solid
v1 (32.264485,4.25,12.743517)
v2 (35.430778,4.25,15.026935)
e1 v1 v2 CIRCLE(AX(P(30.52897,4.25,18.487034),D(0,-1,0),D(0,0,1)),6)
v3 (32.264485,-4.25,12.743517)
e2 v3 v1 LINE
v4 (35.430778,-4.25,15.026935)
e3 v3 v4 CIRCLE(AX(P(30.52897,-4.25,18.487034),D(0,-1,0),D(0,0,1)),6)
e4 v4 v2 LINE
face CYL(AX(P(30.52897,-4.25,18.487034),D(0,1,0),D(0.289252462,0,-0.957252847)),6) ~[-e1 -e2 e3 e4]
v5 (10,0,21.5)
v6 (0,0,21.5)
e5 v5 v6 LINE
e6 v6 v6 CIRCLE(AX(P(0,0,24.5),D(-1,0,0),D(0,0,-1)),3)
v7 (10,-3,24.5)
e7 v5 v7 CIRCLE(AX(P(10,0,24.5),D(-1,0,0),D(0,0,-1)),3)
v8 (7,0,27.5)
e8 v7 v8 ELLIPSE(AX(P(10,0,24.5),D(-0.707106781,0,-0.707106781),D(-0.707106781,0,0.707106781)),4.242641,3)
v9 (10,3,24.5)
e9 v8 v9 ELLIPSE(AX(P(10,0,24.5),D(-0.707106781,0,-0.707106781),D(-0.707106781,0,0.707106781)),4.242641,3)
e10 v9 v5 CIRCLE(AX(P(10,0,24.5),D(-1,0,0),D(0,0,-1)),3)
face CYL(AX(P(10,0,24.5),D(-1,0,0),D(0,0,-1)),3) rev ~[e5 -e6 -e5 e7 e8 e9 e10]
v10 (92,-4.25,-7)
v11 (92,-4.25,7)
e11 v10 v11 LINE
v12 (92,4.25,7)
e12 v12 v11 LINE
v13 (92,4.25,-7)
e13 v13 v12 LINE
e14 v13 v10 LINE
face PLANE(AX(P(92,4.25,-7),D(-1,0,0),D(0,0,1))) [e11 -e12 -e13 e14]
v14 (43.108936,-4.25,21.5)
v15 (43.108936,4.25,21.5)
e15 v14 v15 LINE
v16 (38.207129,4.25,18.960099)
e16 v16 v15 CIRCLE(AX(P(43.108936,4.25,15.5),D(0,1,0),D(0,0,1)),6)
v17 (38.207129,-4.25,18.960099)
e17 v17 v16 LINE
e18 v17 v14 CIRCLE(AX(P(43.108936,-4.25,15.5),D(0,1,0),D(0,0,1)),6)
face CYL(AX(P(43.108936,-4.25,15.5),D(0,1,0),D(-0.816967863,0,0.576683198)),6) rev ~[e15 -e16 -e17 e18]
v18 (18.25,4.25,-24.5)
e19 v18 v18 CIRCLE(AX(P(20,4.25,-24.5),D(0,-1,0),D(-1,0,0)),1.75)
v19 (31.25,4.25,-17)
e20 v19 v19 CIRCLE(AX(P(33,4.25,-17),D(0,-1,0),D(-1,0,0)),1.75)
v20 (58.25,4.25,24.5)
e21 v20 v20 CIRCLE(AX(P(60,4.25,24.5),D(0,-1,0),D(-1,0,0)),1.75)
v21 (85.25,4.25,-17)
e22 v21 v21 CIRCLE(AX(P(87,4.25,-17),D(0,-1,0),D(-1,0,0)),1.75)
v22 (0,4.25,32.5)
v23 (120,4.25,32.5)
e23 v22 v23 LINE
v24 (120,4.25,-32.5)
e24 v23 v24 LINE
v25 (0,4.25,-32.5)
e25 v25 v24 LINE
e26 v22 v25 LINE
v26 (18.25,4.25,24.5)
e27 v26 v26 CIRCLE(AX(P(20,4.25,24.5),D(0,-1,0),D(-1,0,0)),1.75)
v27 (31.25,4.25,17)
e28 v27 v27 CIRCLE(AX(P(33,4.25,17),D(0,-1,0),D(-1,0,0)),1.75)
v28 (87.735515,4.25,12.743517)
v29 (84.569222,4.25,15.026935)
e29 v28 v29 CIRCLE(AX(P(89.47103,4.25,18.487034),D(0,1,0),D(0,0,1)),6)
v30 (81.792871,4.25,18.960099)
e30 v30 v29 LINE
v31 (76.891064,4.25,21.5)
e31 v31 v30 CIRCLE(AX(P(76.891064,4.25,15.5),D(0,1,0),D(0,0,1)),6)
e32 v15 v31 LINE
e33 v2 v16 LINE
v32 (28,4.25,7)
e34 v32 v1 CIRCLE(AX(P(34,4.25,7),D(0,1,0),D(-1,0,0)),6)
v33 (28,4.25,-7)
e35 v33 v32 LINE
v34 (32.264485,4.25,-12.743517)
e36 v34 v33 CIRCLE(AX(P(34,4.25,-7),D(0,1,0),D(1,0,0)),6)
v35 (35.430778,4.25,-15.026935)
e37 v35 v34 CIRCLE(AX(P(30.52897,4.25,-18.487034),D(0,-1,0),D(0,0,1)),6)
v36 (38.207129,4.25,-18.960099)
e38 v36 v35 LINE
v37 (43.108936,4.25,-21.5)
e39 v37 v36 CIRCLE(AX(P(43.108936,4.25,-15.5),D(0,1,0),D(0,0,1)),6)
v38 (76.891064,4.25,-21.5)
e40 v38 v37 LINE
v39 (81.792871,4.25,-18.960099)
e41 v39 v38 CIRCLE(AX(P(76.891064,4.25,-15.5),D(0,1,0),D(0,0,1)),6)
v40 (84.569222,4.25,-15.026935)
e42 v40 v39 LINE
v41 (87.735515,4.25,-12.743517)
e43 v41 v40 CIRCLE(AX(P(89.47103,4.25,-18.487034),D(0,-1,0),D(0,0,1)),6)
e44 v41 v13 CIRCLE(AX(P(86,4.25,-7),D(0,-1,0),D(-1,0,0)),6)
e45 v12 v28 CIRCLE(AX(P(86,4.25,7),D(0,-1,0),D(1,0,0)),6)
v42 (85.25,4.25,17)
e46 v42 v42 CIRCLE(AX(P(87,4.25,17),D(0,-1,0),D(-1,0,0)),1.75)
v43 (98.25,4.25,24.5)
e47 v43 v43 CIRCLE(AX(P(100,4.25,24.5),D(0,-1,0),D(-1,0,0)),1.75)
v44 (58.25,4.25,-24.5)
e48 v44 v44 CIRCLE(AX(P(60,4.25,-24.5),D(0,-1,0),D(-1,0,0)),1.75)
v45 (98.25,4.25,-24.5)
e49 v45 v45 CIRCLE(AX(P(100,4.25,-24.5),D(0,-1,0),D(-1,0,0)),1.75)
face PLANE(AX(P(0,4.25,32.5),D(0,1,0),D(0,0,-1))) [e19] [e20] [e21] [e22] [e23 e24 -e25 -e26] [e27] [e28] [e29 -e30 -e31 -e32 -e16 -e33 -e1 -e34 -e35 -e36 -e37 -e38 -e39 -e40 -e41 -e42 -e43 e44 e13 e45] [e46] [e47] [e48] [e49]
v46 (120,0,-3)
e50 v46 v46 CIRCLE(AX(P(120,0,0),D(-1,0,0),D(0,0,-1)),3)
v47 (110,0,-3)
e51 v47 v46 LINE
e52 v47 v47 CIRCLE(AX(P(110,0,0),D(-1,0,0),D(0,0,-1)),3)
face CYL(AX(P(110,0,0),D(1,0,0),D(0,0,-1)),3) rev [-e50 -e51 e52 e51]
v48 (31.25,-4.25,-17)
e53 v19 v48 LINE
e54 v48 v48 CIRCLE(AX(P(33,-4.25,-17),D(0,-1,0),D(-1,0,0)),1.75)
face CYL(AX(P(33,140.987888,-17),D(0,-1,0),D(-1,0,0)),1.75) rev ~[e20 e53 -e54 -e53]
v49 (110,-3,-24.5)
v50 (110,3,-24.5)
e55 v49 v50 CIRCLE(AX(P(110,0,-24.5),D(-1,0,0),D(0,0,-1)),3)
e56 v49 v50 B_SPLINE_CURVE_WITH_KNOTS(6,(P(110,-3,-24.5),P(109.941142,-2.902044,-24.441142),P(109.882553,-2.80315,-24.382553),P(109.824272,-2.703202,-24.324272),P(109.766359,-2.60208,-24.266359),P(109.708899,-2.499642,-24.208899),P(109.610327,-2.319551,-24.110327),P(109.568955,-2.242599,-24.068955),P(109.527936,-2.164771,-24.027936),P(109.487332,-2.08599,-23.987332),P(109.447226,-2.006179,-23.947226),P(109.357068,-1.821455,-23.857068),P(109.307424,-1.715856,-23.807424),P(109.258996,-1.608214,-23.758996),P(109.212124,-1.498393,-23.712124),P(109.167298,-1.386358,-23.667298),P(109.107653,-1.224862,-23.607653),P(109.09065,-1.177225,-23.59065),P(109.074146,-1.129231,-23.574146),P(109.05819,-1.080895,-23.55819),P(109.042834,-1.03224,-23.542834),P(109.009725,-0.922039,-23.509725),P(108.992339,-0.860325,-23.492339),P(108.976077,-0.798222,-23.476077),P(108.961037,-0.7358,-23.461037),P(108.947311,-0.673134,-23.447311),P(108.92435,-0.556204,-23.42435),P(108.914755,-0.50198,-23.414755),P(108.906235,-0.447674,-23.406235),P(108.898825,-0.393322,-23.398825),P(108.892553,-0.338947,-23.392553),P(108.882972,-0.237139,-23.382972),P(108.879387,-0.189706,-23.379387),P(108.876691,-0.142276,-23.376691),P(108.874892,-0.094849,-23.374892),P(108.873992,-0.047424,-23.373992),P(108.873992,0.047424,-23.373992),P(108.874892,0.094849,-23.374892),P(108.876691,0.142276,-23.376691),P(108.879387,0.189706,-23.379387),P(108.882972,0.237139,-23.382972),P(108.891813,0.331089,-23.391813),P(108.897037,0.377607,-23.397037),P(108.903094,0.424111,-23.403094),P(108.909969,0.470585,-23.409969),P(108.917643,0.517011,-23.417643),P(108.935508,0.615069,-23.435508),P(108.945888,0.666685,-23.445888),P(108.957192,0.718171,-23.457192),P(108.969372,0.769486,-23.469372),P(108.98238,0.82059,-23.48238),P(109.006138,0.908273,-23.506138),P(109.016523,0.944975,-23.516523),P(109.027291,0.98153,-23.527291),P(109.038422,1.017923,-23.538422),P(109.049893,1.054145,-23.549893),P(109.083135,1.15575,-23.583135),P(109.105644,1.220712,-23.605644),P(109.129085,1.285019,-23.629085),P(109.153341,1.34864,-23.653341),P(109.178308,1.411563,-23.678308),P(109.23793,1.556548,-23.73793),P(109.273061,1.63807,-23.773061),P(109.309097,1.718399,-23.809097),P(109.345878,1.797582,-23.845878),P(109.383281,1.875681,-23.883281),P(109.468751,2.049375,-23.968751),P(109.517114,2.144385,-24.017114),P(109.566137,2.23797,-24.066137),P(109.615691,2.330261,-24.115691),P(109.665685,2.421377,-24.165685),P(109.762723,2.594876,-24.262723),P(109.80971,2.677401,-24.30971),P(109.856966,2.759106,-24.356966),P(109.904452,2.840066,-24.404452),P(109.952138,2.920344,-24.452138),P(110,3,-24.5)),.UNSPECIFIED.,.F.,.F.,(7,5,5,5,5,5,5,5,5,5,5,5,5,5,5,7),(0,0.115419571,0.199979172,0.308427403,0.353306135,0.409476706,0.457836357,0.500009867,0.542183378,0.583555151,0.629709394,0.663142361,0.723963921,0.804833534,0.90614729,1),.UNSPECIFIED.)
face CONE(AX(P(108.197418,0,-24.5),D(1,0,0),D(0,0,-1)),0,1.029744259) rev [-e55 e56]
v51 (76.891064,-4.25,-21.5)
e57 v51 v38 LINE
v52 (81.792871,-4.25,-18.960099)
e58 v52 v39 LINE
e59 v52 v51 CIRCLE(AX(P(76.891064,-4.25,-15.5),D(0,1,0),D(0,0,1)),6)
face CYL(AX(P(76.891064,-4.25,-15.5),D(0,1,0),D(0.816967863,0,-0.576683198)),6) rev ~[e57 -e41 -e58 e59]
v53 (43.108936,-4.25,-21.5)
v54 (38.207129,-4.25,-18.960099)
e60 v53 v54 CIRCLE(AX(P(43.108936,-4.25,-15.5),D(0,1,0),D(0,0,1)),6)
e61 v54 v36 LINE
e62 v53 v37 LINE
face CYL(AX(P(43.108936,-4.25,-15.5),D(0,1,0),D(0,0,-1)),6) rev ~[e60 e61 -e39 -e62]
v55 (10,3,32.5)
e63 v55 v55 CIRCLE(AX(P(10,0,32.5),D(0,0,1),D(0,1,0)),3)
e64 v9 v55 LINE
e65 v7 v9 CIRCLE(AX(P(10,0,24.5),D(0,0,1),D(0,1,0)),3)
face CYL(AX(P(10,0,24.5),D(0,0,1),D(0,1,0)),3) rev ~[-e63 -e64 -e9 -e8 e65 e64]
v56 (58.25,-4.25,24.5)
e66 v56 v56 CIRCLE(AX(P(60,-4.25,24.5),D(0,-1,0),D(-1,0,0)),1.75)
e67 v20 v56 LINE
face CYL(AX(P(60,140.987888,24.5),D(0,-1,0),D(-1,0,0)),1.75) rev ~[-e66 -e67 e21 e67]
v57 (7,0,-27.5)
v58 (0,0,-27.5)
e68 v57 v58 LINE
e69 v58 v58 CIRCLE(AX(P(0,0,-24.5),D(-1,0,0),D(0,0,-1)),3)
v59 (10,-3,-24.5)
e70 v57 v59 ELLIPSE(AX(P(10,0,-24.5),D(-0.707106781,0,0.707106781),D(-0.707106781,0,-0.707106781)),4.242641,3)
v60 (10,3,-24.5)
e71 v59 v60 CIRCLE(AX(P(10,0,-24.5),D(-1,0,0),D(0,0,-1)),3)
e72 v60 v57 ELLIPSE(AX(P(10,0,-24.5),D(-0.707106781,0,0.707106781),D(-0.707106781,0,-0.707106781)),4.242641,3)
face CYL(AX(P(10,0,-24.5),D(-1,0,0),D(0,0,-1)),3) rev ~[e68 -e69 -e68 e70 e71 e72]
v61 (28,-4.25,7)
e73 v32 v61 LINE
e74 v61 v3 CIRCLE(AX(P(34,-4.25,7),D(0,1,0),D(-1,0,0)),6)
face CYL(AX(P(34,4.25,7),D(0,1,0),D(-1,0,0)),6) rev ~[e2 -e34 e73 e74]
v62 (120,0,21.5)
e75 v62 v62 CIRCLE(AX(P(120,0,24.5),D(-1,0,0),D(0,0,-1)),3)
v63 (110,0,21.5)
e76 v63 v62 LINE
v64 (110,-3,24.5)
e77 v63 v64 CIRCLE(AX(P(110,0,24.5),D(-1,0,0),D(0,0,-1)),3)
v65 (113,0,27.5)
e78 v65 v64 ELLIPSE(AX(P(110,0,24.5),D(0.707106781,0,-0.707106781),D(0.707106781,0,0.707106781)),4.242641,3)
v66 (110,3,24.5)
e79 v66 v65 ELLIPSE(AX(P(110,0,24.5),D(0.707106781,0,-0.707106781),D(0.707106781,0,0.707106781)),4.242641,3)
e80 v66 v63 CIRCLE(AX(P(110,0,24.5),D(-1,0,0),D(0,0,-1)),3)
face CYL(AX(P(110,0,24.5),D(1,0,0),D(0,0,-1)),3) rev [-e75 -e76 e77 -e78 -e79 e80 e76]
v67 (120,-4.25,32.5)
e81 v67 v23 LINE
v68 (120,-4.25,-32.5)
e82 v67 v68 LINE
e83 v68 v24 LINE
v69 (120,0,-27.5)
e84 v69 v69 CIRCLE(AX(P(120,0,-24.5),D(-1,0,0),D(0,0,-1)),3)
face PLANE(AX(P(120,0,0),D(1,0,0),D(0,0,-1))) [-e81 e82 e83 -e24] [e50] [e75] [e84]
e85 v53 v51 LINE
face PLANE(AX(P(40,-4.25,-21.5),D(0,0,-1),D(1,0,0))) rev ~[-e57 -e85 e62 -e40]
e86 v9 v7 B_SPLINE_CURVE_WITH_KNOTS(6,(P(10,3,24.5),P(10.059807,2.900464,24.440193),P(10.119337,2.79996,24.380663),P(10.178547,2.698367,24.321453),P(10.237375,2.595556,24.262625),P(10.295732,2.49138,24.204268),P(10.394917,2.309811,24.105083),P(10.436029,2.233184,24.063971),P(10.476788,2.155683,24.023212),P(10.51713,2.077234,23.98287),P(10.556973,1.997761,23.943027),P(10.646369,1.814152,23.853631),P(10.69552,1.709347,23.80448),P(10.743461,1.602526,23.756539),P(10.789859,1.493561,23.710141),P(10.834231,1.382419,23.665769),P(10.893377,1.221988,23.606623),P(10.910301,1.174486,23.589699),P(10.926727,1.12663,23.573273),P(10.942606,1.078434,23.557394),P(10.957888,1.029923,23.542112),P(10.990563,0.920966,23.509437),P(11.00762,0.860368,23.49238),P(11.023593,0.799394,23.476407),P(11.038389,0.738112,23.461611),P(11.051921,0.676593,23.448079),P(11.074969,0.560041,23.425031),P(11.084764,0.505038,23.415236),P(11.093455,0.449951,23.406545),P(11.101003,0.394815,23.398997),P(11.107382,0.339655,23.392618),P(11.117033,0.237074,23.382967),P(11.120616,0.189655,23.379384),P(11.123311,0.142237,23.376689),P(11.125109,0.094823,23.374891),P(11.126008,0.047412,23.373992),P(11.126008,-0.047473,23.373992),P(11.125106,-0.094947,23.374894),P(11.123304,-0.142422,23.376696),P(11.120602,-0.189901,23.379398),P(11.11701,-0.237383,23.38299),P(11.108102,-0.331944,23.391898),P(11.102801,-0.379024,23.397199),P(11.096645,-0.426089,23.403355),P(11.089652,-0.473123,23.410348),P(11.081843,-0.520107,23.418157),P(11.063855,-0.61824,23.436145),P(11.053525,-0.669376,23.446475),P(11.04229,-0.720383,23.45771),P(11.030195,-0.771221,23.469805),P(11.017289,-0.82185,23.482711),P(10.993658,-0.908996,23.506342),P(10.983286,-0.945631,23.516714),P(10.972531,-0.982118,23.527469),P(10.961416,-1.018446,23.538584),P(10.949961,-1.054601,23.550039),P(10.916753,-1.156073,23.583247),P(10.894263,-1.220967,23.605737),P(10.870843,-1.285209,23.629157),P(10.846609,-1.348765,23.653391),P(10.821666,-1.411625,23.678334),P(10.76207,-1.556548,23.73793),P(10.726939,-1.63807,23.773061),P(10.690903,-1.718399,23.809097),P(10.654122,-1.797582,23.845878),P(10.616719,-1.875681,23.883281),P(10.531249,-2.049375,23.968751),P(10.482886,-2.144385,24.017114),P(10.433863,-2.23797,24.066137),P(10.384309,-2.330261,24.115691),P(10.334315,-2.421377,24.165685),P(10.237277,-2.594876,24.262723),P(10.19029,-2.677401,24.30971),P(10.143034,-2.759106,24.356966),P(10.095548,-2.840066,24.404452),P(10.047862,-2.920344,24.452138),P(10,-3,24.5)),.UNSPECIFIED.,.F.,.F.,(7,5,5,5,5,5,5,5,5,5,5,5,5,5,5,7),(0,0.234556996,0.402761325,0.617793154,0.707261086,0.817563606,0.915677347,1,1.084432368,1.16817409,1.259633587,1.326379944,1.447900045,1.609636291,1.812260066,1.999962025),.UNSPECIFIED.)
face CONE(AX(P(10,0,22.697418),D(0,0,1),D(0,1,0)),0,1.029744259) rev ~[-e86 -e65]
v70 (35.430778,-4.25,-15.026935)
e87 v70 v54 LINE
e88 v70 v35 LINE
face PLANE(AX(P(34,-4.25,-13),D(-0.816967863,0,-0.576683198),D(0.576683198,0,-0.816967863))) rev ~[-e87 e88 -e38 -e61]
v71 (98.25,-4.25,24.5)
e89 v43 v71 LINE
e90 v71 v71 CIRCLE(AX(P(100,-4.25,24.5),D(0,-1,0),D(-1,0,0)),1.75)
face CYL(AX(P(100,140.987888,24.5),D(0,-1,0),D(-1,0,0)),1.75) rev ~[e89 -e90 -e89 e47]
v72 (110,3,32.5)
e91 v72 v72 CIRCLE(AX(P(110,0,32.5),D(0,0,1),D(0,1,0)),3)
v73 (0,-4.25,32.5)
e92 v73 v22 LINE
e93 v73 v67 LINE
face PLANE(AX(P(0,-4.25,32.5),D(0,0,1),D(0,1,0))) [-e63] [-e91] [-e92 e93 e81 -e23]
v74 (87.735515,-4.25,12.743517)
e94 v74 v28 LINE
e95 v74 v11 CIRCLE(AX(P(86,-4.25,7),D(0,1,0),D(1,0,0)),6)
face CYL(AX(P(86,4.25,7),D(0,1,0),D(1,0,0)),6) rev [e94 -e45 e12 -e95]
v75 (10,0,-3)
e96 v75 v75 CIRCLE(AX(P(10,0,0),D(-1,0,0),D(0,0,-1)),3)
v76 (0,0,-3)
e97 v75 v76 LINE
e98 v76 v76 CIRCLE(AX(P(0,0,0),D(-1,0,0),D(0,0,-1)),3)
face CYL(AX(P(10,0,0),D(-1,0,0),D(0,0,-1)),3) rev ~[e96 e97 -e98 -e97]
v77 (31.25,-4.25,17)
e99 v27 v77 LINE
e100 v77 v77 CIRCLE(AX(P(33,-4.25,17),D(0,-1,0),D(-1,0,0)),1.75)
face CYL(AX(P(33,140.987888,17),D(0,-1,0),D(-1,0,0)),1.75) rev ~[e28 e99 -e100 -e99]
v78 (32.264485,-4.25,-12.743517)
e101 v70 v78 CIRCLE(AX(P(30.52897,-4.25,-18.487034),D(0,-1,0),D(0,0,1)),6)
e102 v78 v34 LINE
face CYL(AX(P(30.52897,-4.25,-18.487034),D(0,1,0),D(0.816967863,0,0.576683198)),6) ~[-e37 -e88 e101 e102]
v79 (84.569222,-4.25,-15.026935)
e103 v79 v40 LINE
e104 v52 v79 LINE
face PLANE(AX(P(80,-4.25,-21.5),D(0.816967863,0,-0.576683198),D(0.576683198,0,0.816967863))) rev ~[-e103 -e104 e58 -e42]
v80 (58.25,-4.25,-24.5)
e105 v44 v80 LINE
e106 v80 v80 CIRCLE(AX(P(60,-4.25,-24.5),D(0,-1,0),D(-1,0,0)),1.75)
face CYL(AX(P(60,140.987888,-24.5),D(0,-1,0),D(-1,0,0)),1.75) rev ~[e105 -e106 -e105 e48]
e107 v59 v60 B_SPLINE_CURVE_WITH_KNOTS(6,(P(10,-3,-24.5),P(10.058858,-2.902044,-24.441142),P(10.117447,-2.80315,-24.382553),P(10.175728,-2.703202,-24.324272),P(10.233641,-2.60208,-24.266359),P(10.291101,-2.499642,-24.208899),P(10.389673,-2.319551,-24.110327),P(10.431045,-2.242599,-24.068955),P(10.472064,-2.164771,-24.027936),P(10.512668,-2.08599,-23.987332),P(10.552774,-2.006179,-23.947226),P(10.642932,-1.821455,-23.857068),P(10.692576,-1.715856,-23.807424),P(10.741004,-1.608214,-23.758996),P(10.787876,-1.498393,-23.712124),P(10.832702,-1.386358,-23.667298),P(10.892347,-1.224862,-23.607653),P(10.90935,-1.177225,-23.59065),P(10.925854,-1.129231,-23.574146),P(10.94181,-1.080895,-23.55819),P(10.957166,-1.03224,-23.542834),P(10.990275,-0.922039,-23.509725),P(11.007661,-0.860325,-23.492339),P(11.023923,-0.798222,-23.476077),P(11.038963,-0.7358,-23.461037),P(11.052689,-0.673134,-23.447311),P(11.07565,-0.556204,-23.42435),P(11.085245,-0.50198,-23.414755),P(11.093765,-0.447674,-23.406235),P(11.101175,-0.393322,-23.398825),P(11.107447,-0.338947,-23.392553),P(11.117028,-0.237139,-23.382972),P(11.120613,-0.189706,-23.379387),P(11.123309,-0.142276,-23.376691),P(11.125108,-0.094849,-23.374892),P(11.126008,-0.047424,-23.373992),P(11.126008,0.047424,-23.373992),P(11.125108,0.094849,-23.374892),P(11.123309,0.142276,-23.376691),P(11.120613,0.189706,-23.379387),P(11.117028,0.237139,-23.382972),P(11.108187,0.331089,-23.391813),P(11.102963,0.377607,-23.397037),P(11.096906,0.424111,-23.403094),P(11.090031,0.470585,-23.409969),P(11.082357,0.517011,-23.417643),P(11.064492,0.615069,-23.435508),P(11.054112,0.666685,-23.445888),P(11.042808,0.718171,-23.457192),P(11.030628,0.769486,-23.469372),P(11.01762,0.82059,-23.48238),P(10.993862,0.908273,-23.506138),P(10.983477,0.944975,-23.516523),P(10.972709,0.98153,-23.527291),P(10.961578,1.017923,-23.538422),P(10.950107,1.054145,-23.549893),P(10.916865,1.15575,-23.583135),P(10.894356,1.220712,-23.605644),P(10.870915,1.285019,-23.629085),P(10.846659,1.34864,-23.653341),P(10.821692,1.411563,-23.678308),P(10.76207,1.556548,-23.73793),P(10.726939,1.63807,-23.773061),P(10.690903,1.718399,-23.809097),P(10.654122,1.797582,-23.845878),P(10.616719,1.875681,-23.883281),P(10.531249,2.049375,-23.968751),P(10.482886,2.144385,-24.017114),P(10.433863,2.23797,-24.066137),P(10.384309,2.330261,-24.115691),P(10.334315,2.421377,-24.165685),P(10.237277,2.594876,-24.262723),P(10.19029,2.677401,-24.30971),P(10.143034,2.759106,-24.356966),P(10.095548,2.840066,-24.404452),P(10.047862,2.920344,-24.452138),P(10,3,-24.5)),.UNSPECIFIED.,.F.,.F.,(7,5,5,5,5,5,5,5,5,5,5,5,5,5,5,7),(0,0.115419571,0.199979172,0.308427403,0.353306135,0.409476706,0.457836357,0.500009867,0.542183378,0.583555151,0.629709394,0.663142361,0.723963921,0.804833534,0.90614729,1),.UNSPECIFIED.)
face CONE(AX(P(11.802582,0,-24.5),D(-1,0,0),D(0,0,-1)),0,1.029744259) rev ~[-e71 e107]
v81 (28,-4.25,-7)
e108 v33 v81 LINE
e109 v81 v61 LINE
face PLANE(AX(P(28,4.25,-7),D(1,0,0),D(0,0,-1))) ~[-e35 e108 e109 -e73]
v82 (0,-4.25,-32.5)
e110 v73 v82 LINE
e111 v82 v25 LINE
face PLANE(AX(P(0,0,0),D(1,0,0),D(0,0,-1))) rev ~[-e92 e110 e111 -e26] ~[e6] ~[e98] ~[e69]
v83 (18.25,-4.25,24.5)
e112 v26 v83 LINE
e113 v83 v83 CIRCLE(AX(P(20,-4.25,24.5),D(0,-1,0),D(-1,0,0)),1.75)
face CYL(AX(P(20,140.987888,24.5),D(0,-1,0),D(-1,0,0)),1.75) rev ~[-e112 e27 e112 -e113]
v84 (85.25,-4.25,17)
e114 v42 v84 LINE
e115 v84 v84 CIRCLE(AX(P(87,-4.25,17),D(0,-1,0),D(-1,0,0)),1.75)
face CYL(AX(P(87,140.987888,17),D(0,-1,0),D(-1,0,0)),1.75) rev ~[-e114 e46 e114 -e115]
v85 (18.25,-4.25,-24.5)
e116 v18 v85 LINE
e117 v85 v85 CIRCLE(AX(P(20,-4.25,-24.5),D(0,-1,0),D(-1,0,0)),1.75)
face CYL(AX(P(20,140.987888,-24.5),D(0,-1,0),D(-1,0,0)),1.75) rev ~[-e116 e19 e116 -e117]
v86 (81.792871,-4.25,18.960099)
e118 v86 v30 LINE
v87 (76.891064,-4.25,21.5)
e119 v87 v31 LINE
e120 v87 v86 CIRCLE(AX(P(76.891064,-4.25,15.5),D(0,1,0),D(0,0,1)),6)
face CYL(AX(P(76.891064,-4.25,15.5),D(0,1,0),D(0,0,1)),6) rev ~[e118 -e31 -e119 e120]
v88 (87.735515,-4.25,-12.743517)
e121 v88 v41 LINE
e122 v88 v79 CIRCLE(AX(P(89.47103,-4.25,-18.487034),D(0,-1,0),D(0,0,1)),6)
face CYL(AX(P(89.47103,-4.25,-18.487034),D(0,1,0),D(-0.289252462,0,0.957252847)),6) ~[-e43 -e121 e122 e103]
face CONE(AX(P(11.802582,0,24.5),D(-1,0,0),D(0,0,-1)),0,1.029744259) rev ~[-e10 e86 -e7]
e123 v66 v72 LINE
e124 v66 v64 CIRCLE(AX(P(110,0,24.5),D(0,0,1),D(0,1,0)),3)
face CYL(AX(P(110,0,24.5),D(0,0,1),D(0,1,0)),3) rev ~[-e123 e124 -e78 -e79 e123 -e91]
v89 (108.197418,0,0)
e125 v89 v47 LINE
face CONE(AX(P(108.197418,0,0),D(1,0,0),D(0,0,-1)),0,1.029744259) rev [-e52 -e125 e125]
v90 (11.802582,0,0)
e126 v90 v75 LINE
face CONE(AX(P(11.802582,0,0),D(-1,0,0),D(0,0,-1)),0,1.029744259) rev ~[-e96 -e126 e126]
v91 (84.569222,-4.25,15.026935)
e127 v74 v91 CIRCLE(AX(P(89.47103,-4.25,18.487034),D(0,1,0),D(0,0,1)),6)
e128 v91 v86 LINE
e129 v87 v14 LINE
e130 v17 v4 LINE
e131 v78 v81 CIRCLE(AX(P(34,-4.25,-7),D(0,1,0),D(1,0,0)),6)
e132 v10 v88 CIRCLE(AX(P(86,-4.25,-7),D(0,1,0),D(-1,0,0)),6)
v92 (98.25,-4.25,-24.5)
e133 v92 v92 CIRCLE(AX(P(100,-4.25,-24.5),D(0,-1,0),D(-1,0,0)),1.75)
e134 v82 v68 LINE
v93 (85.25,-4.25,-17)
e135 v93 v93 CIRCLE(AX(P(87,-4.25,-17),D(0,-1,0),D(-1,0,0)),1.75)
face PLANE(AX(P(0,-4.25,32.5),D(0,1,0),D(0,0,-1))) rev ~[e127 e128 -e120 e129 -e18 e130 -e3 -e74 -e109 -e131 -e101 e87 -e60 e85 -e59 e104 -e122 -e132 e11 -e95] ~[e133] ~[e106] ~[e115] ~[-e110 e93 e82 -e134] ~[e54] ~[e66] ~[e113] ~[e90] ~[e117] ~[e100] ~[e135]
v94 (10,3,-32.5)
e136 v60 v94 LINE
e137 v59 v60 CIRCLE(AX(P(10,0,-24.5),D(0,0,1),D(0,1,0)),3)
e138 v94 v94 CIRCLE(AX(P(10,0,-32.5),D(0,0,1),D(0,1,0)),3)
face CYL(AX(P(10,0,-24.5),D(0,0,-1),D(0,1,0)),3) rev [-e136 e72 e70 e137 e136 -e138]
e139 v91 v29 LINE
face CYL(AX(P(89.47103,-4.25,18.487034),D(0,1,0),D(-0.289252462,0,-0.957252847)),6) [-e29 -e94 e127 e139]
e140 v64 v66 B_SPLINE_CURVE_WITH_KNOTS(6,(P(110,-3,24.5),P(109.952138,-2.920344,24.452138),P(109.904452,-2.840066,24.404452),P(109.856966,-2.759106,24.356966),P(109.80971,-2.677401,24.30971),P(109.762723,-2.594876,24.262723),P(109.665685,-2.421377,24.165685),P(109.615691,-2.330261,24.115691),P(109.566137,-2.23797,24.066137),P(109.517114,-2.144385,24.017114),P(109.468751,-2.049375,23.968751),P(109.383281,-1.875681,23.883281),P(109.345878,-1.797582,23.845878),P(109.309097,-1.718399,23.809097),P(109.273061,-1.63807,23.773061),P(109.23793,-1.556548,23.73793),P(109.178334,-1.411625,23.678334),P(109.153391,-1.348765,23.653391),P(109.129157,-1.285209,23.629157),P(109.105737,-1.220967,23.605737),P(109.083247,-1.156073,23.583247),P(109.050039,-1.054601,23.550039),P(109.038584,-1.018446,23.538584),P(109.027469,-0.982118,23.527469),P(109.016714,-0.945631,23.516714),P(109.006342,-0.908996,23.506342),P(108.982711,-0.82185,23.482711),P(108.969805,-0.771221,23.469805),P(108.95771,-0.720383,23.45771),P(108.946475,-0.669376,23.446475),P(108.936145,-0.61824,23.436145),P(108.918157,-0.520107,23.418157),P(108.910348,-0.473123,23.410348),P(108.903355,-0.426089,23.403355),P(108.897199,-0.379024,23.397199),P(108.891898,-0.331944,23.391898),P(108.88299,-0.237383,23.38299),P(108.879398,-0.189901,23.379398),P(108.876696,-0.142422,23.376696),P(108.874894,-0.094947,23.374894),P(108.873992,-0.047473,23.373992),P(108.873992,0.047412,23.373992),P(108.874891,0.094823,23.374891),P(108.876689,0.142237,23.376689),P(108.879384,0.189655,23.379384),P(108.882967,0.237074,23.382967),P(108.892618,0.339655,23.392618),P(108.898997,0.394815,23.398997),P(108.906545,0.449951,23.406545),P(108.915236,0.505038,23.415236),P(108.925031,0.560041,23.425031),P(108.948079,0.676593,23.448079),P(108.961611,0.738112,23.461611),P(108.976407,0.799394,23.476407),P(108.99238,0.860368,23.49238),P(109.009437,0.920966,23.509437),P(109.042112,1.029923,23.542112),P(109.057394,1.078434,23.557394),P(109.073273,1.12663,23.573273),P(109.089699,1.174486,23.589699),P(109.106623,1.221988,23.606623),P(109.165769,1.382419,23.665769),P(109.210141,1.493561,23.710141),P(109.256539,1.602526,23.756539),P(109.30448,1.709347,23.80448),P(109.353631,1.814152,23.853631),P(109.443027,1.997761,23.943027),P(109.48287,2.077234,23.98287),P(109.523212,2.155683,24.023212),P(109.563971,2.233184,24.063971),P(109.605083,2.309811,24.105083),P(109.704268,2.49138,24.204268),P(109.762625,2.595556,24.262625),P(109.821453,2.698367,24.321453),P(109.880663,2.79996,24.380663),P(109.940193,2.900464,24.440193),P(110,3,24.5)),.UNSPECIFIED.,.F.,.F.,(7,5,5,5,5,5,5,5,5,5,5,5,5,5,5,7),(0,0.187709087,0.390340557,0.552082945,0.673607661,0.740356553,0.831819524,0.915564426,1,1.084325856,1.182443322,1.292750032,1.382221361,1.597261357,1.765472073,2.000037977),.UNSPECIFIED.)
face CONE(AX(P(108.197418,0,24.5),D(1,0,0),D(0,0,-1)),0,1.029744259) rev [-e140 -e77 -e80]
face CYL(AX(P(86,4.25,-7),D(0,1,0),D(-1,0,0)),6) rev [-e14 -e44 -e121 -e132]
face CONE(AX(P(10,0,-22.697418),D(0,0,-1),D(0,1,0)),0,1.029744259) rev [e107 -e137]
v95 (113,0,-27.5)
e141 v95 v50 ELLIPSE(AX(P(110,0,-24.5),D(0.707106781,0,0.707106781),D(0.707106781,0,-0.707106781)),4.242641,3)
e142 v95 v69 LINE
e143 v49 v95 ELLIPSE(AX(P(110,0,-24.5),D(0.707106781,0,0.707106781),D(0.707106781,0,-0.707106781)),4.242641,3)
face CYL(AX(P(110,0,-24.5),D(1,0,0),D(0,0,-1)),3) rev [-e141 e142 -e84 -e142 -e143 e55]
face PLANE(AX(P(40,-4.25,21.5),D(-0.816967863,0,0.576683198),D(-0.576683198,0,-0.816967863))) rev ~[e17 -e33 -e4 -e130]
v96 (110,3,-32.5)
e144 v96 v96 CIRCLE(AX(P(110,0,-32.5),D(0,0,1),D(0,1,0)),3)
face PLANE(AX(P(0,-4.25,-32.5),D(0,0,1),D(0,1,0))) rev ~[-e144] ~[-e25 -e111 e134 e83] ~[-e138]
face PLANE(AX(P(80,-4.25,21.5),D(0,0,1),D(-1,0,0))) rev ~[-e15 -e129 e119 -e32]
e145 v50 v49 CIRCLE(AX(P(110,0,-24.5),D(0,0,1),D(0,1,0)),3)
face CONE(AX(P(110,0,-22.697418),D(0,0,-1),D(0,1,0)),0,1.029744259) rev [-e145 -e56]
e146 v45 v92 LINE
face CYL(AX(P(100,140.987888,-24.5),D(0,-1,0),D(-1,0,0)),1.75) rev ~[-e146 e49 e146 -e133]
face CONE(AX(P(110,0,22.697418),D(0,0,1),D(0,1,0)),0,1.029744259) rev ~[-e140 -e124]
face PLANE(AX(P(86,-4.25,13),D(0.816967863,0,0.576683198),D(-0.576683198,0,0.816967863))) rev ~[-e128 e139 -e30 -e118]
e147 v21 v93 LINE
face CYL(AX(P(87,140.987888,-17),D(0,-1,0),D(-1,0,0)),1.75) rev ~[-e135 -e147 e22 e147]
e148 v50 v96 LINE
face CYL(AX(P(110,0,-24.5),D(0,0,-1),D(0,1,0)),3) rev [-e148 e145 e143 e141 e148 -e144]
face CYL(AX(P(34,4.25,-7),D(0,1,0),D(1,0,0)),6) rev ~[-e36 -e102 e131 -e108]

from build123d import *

# Parameters (mm, degrees)
SKETCH1_W                      = 65
SKETCH1_H                      = 8.5
BOSS_EXTRUDE1_DEPTH            = 120
F_6_0MM_DOWEL_HOLE1_AT_2_COUNT = 2
F_6_0MM_DOWEL_HOLE1_AT_2_PITCH = 24.5
F_6_0MM_DOWEL_HOLE1_AT_3_COUNT = 2
F_6_0MM_DOWEL_HOLE1_AT_3_PITCH = 49
F_6_0MM_DOWEL_HOLE2_AT_2_COUNT = 2
F_6_0MM_DOWEL_HOLE2_AT_2_PITCH = 100
CUT_EXTRUDE1_DEPTH             = 9.5
F_3_0MM_DOWEL_HOLE1_D          = 3.5
CUT_EXTRUDE2_DEPTH             = 9.5
FILLET1_R                      = 6


with BuildPart() as part:
    # Sketch1 → Boss-Extrude1 (new body)
    with BuildSketch(Plane(origin=(0, 0, 0), x_dir=(0, 0, -1), z_dir=(1, 0, 0))):
        Rectangle(SKETCH1_W, SKETCH1_H)
    extrude(amount=BOSS_EXTRUDE1_DEPTH)

    # Sketch3 → Ø6.0mm Dowel Hole1 (revolve, cut)
    with BuildSketch(Plane(origin=(120, 0, 24.5), x_dir=(0, 0, -1), z_dir=(0, 1, 0))):
        Polygon((0, 0), (0, 11.802581857), (3, 10), (3, 0), align=None)
    f_6_0mm_dowel_hole1 = revolve(axis=Axis((126.35, 0, 24.5), (-1, 0, 0)), mode=Mode.SUBTRACT)

    # Ø6.0mm Dowel Hole1 at 2: Ø6.0mm Dowel Hole1 ×2
    with Locations(*[(0, 0, -i * F_6_0MM_DOWEL_HOLE1_AT_2_PITCH) for i in range(1, F_6_0MM_DOWEL_HOLE1_AT_2_COUNT)]):
        add(f_6_0mm_dowel_hole1, mode=Mode.SUBTRACT)

    # Ø6.0mm Dowel Hole1 at 3: Ø6.0mm Dowel Hole1 ×2
    with Locations(*[(0, 0, -i * F_6_0MM_DOWEL_HOLE1_AT_3_PITCH) for i in range(1, F_6_0MM_DOWEL_HOLE1_AT_3_COUNT)]):
        add(f_6_0mm_dowel_hole1, mode=Mode.SUBTRACT)

    # Mirror1: Ø6.0mm Dowel Hole1 across plane
    add(f_6_0mm_dowel_hole1.mirror(Plane(origin=(60, 0, 0), x_dir=(0, 0, 1), z_dir=(1, 0, 0))), mode=Mode.SUBTRACT)

    # Mirror1 copy 1 sketch → Mirror1 copy 1 (revolve, cut)
    with BuildSketch(Plane(origin=(0, 0, 0), x_dir=(0, 0, -1), z_dir=(0, 1, 0))):
        Polygon((0, 0), (0, -11.802581857), (3, -10), (3, 0), align=None)
    revolve(axis=Axis((-6.35, 0, 0), (-1, 0, 0)), mode=Mode.SUBTRACT)

    # Mirror1 copy 2 sketch → Mirror1 copy 2 (revolve, cut)
    with BuildSketch(Plane(origin=(0, 0, -24.5), x_dir=(0, 0, -1), z_dir=(0, 1, 0))):
        Polygon((0, 0), (0, -11.802581857), (3, -10), (3, 0), align=None)
    revolve(axis=Axis((-6.35, 0, -24.5), (-1, 0, 0)), mode=Mode.SUBTRACT)

    # Sketch5 → Ø6.0mm Dowel Hole2 (revolve, cut)
    with BuildSketch(Plane(origin=(110, 0, -32.5), x_dir=(0, 1, 0), z_dir=(1, 0, 0))):
        Polygon((0, 0), (0, 9.802581857), (3, 8), (3, 0), align=None)
    f_6_0mm_dowel_hole2 = revolve(axis=Axis((110, 0, -38.85), (0, 0, 1)), mode=Mode.SUBTRACT)

    # Ø6.0mm Dowel Hole2 at 2: Ø6.0mm Dowel Hole2 ×2
    with Locations(*[(-i * F_6_0MM_DOWEL_HOLE2_AT_2_PITCH, 0, 0) for i in range(1, F_6_0MM_DOWEL_HOLE2_AT_2_COUNT)]):
        add(f_6_0mm_dowel_hole2, mode=Mode.SUBTRACT)

    # Mirror2: Ø6.0mm Dowel Hole2 across plane
    add(f_6_0mm_dowel_hole2.mirror(Plane.XY), mode=Mode.SUBTRACT)

    # Mirror2 copy 1 sketch → Mirror2 copy 1 (revolve, cut)
    with BuildSketch(Plane(origin=(10, 0, 32.5), x_dir=(0, 1, 0), z_dir=(1, 0, 0))):
        Polygon((0, 0), (0, -9.802581857), (3, -8), (3, 0), align=None)
    revolve(axis=Axis((10, 0, 38.85), (0, 0, 1)), mode=Mode.SUBTRACT)

    # Sketch6 → Cut-Extrude1 (cut, through all)
    with BuildSketch(Plane(origin=(0, 4.25, 0), x_dir=(1, 0, 0), z_dir=(0, 1, 0))):
        with BuildLine():
            Line((80, -7), (80, 7))
            ThreePointArc((80, 7), (86, 13), (92, 7))
            Line((92, 7), (92, -7))
            ThreePointArc((92, -7), (86, -13), (80, -7))
        make_face()
    cut_extrude1 = extrude(amount=-CUT_EXTRUDE1_DEPTH, mode=Mode.SUBTRACT)

    # Mirror3: Cut-Extrude1 across plane
    add(cut_extrude1.mirror(Plane(origin=(60, 0, 0), x_dir=(0, 0, 1), z_dir=(1, 0, 0))), mode=Mode.SUBTRACT)

    # Ø3.0mm Dowel Hole1 (through all)
    with Locations(Plane(origin=(0, 4.25, 0), x_dir=(1, 0, 0), z_dir=(0, 1, 0))):
        with Locations((87, -17), (87, 17), (33, 17), (33, -17), (100, -24.5), (60, -24.5), (20, -24.5), (100, 24.5), (60, 24.5), (20, 24.5)):
            Hole(F_3_0MM_DOWEL_HOLE1_D / 2)

    # Sketch10 → Cut-Extrude2 (cut, through all)
    with BuildSketch(Plane.XZ.offset(4.25)):
        with BuildLine():
            ThreePointArc((34, 13), (38.242640687, 11.242640687), (40, 7))
            Line((40, 7), (40, 21.5))
            Line((40, 21.5), (34, 13))
        make_face()
        Polygon((40, -7), (40, -21.5), (80, -21.5), (80, -7), (80, 7), (80, 21.5), (40, 21.5), (40, 7), align=None)
        with BuildLine():
            Line((34, -13), (40, -21.5))
            Line((40, -21.5), (40, -7))
            ThreePointArc((40, -7), (38.242640687, -11.242640687), (34, -13))
        make_face()
        with BuildLine():
            Line((80, 21.5), (80, 7))
            ThreePointArc((80, 7), (81.757359313, 11.242640687), (86, 13))
            Line((86, 13), (80, 21.5))
        make_face()
        with BuildLine():
            Line((80, -7), (80, -21.5))
            Line((80, -21.5), (86, -13))
            ThreePointArc((86, -13), (81.757359313, -11.242640687), (80, -7))
        make_face()
    extrude(amount=-CUT_EXTRUDE2_DEPTH, mode=Mode.SUBTRACT)

    # Fillet1
    fillet1_edges = [part.edges().sort_by_distance(p)[0] for p in [
        (34, 0, 13),
        (40, 0, 21.5),
        (80, 0, 21.5),
        (86, 0, 13),
        (86, 0, -13),
        (80, 0, -21.5),
        (40, 0, -21.5),
        (34, 0, -13),
    ]]
    fillet(fillet1_edges, radius=FILLET1_R)


solid = part.part
